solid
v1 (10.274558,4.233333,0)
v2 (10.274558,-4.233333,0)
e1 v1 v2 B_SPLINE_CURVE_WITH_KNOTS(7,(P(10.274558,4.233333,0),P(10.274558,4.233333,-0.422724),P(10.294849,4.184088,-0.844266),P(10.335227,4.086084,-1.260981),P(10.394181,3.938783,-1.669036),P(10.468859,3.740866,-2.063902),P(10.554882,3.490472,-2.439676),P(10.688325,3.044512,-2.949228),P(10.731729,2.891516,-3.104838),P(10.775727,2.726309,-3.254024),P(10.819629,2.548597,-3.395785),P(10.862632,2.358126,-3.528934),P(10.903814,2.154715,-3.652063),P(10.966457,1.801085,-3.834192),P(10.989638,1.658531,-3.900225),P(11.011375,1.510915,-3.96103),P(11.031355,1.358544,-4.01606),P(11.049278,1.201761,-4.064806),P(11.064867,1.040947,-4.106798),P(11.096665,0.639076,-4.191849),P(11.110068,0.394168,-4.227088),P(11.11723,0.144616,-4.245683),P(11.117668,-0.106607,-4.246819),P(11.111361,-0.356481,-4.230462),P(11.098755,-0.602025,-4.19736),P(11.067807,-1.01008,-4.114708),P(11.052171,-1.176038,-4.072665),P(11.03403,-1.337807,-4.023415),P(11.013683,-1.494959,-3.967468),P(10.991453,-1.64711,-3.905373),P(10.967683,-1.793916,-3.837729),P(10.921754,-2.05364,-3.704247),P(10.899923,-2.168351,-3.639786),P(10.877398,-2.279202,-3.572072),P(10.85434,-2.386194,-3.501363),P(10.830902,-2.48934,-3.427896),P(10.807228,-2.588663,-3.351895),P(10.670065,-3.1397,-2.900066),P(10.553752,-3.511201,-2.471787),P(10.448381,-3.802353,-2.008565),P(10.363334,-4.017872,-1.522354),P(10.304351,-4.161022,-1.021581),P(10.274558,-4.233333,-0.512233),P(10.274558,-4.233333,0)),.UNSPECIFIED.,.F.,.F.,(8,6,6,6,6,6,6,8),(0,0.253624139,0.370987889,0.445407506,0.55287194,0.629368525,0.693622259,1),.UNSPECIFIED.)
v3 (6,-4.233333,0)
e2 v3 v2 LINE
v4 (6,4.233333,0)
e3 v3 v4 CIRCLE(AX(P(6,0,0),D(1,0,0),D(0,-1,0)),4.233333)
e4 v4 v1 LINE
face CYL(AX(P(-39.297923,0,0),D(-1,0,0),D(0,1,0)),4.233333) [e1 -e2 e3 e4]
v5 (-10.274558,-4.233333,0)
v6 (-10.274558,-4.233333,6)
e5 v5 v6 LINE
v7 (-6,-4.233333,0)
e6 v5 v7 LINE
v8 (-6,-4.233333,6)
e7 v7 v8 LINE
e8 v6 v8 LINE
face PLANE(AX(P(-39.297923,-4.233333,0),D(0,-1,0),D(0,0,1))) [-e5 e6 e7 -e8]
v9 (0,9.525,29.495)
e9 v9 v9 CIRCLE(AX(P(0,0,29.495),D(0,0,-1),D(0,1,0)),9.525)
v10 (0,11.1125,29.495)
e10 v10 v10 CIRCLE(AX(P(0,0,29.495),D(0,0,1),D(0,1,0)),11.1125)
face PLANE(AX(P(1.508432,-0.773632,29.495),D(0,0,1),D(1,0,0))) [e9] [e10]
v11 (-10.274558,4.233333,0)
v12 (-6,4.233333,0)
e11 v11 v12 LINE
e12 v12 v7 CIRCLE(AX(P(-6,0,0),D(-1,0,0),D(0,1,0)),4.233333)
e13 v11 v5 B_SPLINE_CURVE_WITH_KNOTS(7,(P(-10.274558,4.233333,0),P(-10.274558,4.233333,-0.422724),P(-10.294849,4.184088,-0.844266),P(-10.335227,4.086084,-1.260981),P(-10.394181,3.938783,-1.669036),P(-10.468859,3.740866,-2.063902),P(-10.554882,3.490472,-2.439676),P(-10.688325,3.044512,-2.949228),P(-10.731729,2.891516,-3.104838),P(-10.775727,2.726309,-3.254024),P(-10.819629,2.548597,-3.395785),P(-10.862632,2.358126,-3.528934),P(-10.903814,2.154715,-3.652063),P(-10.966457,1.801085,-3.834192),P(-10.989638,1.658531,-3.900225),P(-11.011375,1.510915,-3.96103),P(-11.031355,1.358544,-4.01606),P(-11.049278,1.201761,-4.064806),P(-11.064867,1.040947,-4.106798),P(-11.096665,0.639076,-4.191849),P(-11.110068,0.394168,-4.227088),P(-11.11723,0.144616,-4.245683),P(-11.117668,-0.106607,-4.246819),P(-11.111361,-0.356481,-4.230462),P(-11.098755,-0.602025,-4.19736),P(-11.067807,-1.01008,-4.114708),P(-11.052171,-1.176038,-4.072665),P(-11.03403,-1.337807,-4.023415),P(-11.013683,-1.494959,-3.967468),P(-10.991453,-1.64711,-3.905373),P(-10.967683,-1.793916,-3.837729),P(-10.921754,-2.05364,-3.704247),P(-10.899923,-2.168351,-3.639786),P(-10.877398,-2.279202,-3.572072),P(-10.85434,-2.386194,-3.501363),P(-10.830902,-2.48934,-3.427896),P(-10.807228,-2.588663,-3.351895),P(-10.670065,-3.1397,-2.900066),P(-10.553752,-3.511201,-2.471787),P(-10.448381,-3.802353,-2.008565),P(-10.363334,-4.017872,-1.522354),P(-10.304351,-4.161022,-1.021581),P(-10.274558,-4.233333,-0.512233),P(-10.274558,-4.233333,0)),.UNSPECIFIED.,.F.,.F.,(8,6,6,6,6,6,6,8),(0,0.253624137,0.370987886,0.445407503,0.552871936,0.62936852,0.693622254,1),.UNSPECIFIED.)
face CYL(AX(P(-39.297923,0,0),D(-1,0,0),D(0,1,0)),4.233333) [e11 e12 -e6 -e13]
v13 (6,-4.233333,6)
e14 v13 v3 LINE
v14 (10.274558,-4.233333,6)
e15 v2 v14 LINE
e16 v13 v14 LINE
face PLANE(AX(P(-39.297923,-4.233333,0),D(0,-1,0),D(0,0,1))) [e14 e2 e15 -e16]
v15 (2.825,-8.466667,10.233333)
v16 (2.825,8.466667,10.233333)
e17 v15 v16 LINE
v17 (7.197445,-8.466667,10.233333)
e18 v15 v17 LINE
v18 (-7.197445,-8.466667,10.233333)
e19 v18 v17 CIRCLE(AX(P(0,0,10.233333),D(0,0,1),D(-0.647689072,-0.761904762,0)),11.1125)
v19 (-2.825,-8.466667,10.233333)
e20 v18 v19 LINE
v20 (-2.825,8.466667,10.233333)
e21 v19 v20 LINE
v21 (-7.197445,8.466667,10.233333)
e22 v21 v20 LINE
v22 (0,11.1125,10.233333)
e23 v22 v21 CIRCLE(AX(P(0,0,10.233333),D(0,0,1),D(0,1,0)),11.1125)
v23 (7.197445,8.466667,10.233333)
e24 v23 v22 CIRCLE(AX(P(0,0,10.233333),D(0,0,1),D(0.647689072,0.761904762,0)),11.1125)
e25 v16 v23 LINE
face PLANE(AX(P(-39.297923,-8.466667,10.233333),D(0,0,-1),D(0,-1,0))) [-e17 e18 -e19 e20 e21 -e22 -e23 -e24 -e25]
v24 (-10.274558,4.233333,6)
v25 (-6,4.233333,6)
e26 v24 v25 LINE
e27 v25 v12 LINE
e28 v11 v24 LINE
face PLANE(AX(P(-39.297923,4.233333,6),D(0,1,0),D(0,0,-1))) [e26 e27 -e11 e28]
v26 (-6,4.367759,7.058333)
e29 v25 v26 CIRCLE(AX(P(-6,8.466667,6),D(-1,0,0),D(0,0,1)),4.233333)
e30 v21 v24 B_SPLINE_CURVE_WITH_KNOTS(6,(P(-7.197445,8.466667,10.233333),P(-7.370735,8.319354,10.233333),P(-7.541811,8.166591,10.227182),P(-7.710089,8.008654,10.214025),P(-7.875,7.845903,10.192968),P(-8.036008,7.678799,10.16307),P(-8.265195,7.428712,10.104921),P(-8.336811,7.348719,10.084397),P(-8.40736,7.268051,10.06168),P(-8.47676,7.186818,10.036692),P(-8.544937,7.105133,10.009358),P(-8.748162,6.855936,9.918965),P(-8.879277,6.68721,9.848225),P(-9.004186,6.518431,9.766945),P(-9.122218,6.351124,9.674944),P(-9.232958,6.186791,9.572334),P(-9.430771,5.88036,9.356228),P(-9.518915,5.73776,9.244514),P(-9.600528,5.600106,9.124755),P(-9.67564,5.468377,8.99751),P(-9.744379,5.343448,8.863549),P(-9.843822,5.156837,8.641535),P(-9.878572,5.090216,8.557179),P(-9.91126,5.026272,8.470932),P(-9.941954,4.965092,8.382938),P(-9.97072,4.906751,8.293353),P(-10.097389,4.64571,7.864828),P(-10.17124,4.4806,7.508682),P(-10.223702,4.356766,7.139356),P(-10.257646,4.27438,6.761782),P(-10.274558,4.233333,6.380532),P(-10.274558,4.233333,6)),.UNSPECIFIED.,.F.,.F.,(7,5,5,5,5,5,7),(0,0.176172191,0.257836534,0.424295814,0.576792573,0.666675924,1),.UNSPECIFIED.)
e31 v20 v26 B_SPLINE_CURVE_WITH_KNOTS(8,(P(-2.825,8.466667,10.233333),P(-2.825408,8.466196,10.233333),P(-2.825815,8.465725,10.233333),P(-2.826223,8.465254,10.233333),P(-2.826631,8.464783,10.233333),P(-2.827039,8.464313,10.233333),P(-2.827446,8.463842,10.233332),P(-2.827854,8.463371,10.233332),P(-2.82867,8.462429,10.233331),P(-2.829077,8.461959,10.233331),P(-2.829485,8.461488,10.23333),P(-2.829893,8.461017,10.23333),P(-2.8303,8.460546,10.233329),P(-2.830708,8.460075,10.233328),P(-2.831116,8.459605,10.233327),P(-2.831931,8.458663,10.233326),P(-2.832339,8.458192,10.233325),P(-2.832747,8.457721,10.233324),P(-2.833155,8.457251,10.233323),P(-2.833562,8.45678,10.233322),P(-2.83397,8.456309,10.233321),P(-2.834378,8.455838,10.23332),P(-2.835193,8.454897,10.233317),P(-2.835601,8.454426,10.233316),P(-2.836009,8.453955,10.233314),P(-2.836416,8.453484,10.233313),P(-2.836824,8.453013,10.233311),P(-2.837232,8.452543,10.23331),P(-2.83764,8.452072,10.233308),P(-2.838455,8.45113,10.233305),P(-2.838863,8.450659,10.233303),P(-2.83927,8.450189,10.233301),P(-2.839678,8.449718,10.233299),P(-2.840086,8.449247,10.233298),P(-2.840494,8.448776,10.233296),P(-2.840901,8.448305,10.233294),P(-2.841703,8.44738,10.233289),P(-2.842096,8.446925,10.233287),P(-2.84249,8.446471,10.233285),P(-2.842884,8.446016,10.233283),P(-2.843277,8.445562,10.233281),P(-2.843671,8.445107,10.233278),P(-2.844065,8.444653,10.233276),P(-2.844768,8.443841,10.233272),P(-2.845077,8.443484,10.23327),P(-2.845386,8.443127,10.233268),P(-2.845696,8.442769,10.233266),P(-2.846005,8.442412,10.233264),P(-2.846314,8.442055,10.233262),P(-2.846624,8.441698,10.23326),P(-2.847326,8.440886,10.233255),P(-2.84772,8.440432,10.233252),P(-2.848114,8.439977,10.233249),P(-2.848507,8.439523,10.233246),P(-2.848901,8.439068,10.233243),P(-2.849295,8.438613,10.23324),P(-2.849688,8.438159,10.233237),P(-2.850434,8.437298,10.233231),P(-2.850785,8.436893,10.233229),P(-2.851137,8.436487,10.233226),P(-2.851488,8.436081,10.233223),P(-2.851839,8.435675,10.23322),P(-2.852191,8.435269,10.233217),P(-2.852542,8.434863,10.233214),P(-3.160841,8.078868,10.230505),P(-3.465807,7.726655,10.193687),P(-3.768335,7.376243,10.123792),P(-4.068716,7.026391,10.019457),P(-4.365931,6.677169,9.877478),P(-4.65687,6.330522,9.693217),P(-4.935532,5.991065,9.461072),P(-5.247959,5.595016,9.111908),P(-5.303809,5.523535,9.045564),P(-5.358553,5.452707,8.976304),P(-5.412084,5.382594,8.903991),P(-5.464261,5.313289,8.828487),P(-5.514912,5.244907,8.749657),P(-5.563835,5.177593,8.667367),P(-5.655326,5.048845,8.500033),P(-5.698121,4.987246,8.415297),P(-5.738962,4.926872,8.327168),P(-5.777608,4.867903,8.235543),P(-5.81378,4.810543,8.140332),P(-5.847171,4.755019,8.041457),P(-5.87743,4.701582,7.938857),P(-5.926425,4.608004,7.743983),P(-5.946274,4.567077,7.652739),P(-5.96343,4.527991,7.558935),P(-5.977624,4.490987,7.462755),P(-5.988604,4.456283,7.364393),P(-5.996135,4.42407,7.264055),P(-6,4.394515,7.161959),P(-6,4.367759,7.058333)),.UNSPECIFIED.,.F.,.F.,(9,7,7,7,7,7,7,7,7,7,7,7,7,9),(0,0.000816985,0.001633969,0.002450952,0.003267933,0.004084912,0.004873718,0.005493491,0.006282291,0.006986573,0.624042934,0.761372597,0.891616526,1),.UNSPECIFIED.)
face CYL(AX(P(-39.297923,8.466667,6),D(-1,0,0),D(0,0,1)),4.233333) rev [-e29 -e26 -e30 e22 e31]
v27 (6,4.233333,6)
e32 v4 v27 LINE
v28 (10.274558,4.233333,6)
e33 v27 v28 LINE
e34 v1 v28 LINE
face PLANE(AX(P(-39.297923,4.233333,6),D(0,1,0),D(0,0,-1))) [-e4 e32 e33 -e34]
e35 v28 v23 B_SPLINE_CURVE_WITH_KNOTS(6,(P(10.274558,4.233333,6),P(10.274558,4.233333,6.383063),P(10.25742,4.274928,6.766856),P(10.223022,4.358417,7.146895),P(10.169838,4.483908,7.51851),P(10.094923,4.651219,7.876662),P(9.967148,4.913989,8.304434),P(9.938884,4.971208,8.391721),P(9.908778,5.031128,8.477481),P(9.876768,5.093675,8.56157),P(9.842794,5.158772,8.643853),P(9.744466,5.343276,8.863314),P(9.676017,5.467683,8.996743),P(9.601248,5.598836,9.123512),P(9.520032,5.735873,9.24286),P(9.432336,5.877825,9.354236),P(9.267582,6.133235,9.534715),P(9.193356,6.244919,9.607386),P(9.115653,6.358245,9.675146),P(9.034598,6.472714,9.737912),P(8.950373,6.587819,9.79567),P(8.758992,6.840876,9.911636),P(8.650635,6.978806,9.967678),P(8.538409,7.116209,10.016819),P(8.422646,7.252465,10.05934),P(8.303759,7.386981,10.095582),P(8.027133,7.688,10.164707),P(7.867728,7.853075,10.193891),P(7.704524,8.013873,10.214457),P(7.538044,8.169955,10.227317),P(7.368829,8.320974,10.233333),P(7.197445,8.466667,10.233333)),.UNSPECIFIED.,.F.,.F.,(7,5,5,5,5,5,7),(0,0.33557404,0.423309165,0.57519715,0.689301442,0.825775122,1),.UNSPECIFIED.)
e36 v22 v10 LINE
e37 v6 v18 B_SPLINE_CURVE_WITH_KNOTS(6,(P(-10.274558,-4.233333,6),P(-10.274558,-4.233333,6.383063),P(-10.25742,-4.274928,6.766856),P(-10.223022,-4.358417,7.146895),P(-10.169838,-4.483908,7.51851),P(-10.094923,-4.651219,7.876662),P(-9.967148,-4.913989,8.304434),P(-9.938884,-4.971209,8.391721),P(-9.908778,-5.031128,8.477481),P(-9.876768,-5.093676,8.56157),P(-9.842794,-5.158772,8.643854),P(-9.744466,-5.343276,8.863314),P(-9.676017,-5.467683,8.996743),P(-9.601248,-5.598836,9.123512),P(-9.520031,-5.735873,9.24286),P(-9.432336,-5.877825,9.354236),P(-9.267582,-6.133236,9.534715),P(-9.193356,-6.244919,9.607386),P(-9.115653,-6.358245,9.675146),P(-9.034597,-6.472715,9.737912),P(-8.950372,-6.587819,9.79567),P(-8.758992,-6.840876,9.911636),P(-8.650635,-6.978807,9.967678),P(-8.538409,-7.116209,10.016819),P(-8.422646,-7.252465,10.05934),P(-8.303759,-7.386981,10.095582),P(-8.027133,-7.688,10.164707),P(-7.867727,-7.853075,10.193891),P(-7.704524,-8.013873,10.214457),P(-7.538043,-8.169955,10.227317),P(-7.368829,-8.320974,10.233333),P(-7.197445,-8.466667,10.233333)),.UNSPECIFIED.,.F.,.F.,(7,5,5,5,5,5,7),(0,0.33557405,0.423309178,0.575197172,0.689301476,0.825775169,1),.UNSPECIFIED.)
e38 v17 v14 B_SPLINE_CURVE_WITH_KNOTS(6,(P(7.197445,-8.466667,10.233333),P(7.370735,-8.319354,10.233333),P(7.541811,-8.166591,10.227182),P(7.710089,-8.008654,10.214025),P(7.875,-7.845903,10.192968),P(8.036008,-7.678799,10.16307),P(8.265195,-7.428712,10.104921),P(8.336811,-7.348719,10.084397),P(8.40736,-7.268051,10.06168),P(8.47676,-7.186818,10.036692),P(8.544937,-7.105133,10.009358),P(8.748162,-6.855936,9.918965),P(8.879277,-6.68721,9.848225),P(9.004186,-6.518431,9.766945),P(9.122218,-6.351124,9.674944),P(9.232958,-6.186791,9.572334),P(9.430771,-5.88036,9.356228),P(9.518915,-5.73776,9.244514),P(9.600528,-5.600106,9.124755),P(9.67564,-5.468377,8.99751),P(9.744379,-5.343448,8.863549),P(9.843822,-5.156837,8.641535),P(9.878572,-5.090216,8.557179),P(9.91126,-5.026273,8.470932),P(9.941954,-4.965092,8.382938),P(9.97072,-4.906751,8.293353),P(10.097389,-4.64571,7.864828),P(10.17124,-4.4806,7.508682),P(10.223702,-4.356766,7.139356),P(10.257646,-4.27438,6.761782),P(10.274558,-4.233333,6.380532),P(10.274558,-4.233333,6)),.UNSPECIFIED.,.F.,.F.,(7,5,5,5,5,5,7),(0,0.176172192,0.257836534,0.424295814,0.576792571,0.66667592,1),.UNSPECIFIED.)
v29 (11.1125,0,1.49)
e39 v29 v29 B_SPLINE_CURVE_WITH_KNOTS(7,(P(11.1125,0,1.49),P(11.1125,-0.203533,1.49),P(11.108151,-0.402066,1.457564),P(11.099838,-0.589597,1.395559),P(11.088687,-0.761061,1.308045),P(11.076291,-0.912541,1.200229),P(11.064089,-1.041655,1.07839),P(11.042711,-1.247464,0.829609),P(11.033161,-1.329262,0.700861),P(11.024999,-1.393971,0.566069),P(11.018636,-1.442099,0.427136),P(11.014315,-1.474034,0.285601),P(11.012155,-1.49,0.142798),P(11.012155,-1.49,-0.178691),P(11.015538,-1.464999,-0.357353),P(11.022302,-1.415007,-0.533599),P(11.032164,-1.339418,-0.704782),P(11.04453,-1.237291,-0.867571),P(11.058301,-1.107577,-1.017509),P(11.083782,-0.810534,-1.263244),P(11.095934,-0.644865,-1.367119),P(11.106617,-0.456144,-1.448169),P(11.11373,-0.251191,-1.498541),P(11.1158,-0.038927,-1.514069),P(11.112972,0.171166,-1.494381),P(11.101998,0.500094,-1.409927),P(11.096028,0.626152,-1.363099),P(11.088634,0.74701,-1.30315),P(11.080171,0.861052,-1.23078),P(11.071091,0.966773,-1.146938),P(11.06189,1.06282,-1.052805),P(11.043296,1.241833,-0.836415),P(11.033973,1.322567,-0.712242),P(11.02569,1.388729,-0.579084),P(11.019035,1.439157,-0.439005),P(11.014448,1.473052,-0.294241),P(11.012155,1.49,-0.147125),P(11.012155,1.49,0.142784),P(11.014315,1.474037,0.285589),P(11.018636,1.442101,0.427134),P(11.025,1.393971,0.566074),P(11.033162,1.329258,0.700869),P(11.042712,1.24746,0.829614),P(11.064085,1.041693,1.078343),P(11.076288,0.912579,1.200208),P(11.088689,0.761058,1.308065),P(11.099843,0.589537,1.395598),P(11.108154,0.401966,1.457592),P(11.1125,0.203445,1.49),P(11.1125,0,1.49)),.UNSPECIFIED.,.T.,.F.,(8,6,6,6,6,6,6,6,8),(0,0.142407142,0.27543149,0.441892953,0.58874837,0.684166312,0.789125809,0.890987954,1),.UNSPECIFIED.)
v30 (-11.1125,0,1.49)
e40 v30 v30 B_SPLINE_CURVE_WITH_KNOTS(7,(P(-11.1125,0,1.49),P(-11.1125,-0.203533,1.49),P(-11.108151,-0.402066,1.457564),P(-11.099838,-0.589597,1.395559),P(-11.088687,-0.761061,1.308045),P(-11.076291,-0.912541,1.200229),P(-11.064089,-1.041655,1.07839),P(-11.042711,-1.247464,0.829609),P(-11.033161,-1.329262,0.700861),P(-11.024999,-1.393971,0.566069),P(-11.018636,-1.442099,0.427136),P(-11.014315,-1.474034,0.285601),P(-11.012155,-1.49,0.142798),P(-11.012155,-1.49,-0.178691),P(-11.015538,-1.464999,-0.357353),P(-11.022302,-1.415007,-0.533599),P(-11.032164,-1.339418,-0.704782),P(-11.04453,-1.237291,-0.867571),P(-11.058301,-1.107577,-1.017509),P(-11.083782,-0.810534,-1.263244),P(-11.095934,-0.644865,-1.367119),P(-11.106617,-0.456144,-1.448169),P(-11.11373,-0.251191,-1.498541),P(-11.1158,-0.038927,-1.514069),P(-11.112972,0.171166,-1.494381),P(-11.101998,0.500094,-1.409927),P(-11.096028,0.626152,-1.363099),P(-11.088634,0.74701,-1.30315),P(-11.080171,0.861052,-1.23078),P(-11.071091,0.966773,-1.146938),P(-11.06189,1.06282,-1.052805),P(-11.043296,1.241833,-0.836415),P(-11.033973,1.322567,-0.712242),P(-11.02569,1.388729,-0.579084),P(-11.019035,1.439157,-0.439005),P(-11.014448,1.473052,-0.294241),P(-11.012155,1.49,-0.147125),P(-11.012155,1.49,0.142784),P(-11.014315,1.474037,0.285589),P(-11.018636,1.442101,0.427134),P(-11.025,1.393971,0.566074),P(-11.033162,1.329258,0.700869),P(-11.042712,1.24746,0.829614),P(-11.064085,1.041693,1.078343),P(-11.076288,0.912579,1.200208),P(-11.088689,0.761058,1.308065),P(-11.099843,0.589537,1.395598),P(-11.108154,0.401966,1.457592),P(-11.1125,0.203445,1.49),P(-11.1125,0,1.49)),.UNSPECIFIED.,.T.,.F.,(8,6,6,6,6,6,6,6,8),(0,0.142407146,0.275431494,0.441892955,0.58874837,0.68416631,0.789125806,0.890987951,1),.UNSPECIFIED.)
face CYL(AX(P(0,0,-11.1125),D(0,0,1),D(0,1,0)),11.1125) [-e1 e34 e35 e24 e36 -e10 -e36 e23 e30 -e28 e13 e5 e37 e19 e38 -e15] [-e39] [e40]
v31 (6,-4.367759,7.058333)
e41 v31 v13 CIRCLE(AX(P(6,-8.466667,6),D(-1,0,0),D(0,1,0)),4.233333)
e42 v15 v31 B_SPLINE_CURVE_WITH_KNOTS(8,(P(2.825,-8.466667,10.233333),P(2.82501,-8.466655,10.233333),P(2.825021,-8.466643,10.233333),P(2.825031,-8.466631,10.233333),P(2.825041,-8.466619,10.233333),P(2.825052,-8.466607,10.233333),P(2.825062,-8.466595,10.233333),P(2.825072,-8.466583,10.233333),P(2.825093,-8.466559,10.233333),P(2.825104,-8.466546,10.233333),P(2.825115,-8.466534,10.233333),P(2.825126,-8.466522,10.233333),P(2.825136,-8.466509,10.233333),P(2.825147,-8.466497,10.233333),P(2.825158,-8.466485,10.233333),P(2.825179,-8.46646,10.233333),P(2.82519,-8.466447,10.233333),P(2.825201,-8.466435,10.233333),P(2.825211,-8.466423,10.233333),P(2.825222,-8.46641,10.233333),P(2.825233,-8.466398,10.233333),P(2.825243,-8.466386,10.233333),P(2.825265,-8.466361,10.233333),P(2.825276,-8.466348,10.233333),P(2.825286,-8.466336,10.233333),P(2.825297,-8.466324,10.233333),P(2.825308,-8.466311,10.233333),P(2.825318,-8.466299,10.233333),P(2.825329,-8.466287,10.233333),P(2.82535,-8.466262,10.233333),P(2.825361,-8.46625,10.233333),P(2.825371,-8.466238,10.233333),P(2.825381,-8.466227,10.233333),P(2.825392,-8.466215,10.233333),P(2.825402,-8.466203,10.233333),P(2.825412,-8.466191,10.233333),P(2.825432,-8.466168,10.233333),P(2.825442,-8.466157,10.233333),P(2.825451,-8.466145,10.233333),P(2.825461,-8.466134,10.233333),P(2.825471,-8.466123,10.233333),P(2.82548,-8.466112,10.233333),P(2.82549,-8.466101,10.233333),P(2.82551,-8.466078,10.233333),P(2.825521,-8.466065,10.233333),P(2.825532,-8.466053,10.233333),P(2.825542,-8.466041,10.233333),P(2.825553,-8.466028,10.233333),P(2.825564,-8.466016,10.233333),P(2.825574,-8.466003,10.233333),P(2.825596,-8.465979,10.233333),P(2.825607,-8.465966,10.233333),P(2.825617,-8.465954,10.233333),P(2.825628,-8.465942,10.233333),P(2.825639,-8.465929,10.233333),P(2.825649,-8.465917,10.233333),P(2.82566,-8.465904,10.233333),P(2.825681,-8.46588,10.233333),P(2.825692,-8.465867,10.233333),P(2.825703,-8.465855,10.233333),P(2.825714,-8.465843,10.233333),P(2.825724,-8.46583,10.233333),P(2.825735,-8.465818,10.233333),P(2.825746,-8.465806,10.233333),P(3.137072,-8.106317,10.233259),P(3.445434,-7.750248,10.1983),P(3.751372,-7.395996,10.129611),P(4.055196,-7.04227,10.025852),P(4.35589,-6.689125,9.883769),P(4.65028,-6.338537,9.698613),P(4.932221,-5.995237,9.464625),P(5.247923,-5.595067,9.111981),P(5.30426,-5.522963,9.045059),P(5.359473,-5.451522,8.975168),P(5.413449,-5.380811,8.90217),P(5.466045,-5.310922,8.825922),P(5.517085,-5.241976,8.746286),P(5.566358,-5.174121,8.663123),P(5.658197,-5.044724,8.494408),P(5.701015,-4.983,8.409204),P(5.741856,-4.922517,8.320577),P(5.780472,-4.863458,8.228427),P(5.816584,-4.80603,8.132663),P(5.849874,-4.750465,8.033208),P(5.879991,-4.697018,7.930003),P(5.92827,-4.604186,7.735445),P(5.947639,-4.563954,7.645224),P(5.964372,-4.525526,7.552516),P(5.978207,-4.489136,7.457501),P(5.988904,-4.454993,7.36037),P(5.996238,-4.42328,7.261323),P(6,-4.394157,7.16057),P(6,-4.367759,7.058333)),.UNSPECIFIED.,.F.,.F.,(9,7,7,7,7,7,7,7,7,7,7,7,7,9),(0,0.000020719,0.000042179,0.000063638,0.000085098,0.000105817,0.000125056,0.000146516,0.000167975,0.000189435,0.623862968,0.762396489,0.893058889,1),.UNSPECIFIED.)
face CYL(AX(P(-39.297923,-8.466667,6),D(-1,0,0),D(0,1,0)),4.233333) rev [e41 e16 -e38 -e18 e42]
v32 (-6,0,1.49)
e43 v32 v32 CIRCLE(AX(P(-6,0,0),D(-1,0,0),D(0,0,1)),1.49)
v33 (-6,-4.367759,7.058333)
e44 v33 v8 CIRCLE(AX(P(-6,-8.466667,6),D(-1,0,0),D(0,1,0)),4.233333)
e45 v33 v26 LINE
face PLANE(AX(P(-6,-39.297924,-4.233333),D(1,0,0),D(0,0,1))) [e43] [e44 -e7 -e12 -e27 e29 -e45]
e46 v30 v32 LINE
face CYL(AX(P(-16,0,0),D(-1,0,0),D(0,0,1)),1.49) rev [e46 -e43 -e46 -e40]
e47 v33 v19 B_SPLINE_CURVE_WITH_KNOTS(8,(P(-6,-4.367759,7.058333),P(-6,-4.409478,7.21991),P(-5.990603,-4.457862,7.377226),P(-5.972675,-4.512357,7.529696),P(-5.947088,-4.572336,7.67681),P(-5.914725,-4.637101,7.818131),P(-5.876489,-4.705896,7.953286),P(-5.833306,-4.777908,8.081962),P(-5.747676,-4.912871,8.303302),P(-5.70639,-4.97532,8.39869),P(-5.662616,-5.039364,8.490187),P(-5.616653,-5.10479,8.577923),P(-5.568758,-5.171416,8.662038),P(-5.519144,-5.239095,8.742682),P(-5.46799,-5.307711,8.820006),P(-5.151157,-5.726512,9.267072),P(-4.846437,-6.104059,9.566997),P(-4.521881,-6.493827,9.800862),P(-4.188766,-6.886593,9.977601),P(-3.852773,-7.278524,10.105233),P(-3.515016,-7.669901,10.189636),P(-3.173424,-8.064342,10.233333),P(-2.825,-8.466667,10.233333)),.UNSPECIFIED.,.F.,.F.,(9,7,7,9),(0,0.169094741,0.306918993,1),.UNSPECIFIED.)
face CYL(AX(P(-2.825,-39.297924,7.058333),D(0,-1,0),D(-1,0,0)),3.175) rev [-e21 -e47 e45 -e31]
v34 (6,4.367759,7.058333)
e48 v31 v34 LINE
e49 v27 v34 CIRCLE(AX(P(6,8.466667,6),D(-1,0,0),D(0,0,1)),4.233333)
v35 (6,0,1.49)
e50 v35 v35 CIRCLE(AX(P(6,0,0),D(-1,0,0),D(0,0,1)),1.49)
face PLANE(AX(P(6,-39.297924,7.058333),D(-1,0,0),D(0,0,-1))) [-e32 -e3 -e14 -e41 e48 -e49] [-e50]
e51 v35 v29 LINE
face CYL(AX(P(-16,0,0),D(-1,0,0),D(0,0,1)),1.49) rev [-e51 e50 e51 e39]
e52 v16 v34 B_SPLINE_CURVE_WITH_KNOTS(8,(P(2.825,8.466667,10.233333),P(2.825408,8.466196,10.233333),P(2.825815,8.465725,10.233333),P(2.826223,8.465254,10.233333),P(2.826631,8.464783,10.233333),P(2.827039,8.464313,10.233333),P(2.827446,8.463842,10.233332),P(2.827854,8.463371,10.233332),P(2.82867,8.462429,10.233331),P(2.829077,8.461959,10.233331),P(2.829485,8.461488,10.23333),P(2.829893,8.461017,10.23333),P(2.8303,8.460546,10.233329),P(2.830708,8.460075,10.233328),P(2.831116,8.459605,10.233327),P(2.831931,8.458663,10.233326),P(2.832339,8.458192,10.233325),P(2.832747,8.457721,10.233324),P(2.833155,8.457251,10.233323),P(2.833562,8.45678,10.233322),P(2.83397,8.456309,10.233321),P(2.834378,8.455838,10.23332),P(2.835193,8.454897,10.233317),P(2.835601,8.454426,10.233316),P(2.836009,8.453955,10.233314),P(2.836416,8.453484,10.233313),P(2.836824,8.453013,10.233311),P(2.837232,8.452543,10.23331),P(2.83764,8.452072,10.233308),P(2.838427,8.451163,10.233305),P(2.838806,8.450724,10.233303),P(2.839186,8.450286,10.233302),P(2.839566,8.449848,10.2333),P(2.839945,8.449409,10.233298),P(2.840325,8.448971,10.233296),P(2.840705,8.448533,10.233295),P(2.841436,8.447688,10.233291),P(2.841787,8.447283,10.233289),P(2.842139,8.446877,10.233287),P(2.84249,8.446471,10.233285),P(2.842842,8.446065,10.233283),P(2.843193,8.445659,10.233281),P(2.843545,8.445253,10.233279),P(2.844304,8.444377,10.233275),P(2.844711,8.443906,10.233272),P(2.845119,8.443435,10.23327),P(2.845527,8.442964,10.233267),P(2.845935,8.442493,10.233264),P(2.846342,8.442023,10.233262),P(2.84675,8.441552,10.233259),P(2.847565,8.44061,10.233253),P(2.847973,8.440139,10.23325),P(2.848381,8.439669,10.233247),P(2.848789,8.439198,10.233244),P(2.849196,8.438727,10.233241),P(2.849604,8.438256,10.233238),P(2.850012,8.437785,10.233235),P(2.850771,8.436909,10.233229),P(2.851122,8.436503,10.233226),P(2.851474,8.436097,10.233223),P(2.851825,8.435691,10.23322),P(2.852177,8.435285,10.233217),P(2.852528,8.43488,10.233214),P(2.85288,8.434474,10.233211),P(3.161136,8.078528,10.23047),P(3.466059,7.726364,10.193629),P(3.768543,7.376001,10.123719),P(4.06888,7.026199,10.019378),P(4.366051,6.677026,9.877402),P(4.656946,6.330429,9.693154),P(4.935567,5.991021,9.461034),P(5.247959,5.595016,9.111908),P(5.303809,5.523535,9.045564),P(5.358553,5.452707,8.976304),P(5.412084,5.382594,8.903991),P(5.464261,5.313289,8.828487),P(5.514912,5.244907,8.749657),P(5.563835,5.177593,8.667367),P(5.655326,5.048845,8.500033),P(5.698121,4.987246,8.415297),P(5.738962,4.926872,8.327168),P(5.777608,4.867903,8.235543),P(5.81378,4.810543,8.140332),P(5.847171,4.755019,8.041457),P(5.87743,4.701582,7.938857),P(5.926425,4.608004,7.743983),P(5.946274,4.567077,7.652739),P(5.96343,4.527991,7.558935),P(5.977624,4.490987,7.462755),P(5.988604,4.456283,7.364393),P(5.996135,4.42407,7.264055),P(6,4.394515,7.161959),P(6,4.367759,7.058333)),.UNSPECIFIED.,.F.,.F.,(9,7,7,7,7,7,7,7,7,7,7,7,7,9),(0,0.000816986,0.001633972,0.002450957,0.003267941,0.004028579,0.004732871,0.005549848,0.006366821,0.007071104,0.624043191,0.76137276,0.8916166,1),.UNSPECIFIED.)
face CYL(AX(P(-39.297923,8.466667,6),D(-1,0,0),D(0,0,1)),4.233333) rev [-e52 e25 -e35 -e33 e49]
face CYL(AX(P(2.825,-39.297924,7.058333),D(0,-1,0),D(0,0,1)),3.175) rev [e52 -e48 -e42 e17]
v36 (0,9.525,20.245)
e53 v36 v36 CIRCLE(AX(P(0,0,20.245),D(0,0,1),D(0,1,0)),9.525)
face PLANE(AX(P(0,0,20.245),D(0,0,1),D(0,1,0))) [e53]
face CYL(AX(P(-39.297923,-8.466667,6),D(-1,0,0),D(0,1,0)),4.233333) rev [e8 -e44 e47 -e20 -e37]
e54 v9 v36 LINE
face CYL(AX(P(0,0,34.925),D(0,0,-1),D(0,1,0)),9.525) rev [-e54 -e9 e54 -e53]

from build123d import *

# Parameters (mm, degrees)
CUT_EXTRUDE1_DEPTH      = 39.29792341
CUT_EXTRUDE1_DEPTH_BACK = 39.29792341
CUT_EXTRUDE2_DEPTH      = 39.297923559
CUT_EXTRUDE2_DEPTH_BACK = 39.297923559
CUT_EXTRUDE3_DEPTH      = 20
CUT_EXTRUDE3_DEPTH_BACK = 10
SKETCH5_R               = 1.49
SKETCH6_R               = 9.525
BOSS_EXTRUDE1_DEPTH     = 4.32
SKETCH7_W               = 30.231147159
SKETCH7_H               = 26.898579755
CUT_EXTRUDE4_DEPTH      = 5.43


with BuildPart() as part:
    # Sketch1 → Revolve1 (revolve)
    with BuildSketch(Plane(origin=(0, 0, 0), x_dir=(0, 0, -1), z_dir=(1, 0, 0))):
        Polygon((-34.925, 11.1125), (-34.925, 9.525), (-15.925, 9.525), (-15.925, 0), (11.1125, 0), (11.1125, 11.1125), align=None)
    revolve(axis=Axis((0, 0, 0), (0, 0, 1)))

    # Sketch3 → Cut-Extrude1 (cut, two sides: drawn at the far end of the back side and taken through both)
    with BuildSketch(Plane(origin=(0, 0, 0), x_dir=(0, 0, -1), z_dir=(1, 0, 0)).offset(-CUT_EXTRUDE1_DEPTH_BACK)):
        with BuildLine():
            Line((11.1125, 11.1125), (-10.233333333, 11.1125))
            Line((-10.233333333, 11.1125), (-10.233333333, 8.466666667))
            ThreePointArc((-10.233333333, 8.466666667), (-8.993418707, 5.47324796), (-6, 4.233333333))
            Line((-6, 4.233333333), (0, 4.233333333))
            ThreePointArc((0, 4.233333333), (4.233333333, 0), (0, -4.233333333))
            Line((0, -4.233333333), (-6, -4.233333333))
            ThreePointArc((-6, -4.233333333), (-8.993418707, -5.47324796), (-10.233333333, -8.466666667))
            Line((-10.233333333, -8.466666667), (-10.233333333, -11.1125))
            Line((-10.233333333, -11.1125), (11.1125, -11.1125))
            Line((11.1125, -11.1125), (11.1125, 11.1125))
        make_face()
    extrude(amount=CUT_EXTRUDE1_DEPTH + CUT_EXTRUDE1_DEPTH_BACK, mode=Mode.SUBTRACT)

    # Sketch4 → Cut-Extrude2 (cut, two sides: drawn at the far end of the back side and taken through both)
    with BuildSketch(Plane(origin=(0, 0, 0), x_dir=(1, 0, 0), z_dir=(0, 1, 0)).offset(-CUT_EXTRUDE2_DEPTH_BACK)):
        with BuildLine():
            Line((-2.825, -10.233333333), (2.825, -10.233333333))
            ThreePointArc((2.825, -10.233333333), (5.07006403, -9.303397364), (6, -7.058333333))
            Line((6, -7.058333333), (6, 4.233333333))
            Line((6, 4.233333333), (-6, 4.233333333))
            Line((-6, 4.233333333), (-6, -7.058333333))
            ThreePointArc((-6, -7.058333333), (-5.07006403, -9.303397364), (-2.825, -10.233333333))
        make_face()
    extrude(amount=CUT_EXTRUDE2_DEPTH + CUT_EXTRUDE2_DEPTH_BACK, mode=Mode.SUBTRACT)

    # Sketch5 → Cut-Extrude3 (cut, two sides: drawn at the far end of the back side and taken through both)
    with BuildSketch(Plane(origin=(-6, 0, 0), x_dir=(0, 0, -1), z_dir=(1, 0, 0)).offset(-CUT_EXTRUDE3_DEPTH_BACK)):
        Circle(SKETCH5_R)
    extrude(amount=CUT_EXTRUDE3_DEPTH + CUT_EXTRUDE3_DEPTH_BACK, mode=Mode.SUBTRACT)

    # Sketch6 → Boss-Extrude1 (add)
    with BuildSketch(Plane.XY.offset(15.925)):
        Circle(SKETCH6_R)
    extrude(amount=BOSS_EXTRUDE1_DEPTH)

    # Sketch7 → Cut-Extrude4 (cut)
    with BuildSketch(Plane.XY.offset(34.925)):
        with Locations((1.508431665, -0.773631718)):
            Rectangle(SKETCH7_W, SKETCH7_H)
    extrude(amount=-CUT_EXTRUDE4_DEPTH, mode=Mode.SUBTRACT)


solid = part.part
